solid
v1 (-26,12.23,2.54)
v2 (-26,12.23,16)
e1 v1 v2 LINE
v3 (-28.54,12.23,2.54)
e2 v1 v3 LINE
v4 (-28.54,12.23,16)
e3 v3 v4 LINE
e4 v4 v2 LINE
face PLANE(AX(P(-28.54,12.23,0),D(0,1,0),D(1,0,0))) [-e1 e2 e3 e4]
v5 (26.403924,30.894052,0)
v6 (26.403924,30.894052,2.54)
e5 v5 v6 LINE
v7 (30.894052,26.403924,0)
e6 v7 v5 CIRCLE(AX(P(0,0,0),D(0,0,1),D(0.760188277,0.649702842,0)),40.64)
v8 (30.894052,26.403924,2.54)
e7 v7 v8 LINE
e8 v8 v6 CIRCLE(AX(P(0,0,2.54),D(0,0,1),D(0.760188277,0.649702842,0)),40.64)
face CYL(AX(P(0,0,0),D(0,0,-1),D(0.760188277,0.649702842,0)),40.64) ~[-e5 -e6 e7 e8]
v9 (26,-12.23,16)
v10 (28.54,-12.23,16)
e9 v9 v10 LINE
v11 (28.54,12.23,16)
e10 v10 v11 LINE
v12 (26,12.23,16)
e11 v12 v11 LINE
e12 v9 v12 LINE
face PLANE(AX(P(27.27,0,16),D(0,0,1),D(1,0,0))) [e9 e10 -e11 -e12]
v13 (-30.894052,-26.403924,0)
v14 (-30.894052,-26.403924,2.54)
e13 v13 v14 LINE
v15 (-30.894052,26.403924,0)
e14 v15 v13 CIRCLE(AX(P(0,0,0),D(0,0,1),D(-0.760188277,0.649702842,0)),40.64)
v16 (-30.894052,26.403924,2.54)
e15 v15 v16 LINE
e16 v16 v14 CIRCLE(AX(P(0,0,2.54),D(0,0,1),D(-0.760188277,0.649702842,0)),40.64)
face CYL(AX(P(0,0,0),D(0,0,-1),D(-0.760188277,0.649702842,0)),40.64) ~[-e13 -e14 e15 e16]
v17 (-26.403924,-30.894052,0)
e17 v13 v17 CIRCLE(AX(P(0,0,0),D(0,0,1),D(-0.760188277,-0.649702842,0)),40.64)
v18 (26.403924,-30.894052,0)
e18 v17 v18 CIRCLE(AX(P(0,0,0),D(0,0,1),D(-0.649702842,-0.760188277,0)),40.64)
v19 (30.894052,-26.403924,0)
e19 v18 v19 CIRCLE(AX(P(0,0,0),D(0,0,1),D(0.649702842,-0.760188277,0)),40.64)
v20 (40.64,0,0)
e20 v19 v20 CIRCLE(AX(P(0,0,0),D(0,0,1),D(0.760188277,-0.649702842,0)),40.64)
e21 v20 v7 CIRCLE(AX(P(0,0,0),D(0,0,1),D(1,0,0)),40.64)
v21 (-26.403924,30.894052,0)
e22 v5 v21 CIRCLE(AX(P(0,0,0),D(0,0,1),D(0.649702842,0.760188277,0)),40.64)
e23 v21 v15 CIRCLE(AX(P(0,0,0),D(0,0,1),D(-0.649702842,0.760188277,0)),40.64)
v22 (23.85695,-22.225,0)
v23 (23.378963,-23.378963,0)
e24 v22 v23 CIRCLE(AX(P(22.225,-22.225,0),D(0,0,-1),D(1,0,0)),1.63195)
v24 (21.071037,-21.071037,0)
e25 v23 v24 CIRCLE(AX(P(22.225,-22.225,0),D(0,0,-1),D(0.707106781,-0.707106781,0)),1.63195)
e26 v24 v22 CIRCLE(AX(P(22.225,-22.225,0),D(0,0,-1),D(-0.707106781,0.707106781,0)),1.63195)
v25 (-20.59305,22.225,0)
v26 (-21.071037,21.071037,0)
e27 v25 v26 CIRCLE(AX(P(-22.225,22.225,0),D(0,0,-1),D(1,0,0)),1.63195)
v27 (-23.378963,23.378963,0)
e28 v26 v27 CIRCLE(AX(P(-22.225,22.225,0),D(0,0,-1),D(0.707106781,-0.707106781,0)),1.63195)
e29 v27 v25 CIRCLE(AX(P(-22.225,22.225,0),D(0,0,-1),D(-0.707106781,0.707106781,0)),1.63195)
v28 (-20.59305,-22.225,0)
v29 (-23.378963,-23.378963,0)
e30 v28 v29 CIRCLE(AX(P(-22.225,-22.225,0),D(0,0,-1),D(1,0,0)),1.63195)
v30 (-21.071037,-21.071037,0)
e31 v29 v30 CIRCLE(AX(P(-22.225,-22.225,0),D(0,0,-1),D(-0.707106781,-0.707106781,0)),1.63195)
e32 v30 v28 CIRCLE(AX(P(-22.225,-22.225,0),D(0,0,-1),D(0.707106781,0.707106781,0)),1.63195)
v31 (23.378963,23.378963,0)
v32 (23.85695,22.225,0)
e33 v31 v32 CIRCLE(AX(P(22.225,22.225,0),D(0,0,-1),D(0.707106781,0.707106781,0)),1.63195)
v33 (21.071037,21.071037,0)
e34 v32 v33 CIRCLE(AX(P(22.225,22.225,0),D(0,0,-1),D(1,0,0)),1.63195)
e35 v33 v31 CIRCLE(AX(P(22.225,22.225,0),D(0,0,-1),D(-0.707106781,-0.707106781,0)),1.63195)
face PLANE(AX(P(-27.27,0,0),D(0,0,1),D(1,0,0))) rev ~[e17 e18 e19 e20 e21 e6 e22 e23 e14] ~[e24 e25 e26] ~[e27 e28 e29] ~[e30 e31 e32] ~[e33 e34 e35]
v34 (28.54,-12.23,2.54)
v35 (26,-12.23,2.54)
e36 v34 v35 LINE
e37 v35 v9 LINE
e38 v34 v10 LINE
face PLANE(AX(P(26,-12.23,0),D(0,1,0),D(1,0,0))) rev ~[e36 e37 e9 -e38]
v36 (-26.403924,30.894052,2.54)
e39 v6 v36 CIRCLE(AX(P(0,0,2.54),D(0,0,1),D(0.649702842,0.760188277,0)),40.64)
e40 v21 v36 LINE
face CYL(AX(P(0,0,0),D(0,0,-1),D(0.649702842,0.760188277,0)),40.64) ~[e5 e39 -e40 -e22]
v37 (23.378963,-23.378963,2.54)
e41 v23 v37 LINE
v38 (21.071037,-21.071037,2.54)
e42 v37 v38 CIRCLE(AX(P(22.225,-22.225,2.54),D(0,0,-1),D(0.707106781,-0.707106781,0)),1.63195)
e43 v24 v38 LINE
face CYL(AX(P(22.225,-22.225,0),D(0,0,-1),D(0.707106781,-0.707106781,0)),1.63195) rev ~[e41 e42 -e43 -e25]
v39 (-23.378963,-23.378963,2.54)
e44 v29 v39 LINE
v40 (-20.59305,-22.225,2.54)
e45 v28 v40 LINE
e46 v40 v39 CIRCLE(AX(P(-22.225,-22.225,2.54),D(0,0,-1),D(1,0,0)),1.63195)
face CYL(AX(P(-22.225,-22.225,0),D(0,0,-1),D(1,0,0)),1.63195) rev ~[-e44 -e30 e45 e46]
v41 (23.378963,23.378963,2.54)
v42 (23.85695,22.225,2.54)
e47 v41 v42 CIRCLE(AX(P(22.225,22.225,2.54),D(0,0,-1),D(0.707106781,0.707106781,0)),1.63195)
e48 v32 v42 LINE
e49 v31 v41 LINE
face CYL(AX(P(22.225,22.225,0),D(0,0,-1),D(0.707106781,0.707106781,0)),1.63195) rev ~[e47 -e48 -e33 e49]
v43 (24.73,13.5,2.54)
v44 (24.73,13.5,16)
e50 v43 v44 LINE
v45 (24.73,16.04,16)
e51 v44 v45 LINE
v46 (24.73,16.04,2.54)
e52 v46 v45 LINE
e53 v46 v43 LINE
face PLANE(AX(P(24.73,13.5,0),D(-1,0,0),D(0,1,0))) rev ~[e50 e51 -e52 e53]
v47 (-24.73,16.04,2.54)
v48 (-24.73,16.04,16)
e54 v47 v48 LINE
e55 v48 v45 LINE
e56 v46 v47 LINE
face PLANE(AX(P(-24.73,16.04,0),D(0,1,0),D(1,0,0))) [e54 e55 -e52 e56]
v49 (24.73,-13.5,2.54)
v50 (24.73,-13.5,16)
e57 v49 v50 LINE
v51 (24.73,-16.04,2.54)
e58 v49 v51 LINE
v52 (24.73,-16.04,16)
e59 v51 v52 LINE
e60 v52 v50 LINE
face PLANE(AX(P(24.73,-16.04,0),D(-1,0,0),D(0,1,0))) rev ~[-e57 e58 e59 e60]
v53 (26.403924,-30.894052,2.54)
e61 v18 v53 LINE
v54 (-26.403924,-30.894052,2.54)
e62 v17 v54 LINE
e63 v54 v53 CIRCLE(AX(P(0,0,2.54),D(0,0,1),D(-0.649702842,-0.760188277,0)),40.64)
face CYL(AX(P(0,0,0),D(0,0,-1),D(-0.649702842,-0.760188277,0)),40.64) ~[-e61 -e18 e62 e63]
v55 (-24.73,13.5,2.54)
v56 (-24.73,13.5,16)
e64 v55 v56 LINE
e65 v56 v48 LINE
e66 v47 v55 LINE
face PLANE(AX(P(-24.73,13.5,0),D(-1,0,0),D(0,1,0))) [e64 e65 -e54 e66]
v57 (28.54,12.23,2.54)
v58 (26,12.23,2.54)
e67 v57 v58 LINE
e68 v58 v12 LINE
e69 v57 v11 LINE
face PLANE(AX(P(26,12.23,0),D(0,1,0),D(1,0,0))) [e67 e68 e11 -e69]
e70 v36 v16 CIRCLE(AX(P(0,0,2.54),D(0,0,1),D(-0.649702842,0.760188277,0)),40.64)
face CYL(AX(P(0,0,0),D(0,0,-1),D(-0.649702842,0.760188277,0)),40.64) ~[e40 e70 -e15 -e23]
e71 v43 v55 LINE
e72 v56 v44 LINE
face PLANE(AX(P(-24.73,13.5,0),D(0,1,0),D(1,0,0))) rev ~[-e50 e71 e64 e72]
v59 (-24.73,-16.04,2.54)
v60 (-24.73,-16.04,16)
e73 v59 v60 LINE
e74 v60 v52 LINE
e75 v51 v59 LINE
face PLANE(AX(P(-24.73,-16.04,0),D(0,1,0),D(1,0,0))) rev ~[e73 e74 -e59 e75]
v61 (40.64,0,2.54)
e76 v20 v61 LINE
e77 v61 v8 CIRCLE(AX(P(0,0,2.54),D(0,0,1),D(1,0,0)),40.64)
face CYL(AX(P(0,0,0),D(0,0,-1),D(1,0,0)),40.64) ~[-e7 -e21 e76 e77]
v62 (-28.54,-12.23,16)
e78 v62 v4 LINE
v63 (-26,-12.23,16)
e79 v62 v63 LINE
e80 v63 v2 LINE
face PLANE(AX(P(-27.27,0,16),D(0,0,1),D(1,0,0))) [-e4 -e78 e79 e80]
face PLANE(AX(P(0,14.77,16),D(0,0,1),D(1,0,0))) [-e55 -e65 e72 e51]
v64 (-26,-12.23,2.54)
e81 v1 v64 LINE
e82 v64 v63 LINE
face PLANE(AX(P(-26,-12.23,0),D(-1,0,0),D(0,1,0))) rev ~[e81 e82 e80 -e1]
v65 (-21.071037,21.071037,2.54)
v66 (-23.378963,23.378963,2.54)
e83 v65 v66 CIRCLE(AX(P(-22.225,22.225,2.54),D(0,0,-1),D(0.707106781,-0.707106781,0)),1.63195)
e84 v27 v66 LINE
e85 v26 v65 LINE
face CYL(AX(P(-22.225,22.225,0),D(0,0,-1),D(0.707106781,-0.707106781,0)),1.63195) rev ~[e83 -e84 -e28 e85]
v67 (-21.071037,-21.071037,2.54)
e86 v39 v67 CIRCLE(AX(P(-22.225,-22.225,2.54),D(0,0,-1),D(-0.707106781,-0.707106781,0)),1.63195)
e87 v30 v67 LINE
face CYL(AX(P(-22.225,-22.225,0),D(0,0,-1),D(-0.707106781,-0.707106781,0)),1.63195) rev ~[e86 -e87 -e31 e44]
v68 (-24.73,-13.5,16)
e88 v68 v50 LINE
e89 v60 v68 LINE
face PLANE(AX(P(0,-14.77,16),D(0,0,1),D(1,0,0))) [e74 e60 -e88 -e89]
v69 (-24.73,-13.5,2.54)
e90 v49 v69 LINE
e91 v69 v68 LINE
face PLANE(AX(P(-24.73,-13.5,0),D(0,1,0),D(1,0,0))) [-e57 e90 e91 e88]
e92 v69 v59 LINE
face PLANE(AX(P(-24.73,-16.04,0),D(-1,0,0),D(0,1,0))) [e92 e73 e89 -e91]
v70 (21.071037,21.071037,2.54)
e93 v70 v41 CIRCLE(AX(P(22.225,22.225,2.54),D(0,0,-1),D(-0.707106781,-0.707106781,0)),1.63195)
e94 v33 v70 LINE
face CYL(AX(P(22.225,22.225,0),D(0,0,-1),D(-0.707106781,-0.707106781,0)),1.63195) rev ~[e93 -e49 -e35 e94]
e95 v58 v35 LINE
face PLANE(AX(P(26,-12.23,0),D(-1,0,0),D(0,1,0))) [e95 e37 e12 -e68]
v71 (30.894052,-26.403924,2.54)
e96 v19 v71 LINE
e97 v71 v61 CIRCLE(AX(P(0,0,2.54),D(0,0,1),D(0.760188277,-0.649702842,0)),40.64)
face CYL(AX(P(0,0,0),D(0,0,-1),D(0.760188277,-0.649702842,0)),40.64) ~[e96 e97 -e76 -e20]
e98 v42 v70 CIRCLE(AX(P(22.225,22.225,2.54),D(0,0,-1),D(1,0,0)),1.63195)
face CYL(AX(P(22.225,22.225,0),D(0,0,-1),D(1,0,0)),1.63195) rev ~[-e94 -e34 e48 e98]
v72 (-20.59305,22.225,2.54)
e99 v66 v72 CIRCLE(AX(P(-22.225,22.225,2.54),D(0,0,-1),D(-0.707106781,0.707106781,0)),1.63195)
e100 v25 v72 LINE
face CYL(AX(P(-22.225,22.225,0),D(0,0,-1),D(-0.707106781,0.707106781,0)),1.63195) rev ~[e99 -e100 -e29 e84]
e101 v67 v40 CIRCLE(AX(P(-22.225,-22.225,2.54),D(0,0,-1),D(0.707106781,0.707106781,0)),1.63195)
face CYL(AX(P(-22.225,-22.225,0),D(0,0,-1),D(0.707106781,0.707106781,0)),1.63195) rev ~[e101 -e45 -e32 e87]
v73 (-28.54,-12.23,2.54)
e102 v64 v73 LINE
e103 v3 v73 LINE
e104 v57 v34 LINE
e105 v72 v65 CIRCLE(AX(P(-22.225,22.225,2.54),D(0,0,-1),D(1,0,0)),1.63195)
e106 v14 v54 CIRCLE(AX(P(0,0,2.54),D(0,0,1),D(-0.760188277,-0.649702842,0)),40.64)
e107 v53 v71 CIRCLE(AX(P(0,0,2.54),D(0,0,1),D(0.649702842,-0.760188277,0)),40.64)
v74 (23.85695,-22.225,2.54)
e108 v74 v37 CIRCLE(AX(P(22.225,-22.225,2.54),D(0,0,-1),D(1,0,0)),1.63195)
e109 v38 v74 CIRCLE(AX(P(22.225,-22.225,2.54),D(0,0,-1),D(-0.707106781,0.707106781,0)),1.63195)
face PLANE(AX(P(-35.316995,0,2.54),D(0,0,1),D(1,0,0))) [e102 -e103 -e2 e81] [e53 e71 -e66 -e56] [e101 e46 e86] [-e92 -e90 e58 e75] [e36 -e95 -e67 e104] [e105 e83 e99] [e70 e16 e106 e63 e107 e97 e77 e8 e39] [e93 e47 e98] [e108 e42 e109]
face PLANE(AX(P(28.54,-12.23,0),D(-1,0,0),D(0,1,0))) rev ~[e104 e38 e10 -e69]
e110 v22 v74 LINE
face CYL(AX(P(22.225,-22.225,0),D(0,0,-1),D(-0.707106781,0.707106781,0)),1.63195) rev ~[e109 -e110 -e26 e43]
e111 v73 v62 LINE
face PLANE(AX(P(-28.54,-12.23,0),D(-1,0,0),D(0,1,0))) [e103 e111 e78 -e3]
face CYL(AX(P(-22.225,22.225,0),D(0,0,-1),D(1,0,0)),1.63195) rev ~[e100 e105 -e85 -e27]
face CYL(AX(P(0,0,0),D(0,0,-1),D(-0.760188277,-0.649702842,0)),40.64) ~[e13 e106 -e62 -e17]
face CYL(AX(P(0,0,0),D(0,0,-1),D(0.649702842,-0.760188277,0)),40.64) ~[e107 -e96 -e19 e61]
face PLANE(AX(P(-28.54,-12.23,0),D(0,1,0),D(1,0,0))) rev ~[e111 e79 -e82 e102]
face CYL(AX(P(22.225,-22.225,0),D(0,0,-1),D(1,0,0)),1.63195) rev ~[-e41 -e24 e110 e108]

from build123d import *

# Parameters (mm, degrees)
F1_DEPTH = 2.54
F2_W     = 2.54
F2_H     = 24.46
F2_W_2   = 49.46
F2_H_2   = 2.54
F3_DEPTH = 16


with BuildPart() as f1:
    # F0 (on Top) → F1 (new body)
    with BuildSketch(Plane.XY):
        with BuildLine():
            ThreePointArc((-29.0921250892, -24.6019970286), (-38.1, 0), (-29.0921250892, 24.6019970286))
            Line((-29.0921250892, 24.6019970286), (-30.8940515778, 26.4039235173))
            ThreePointArc((-30.8940515778, 26.4039235173), (-40.64, 0), (-30.8940515778, -26.4039235173))
            Line((-30.8940515778, -26.4039235173), (-29.0921250892, -24.6019970286))
        make_face()
        with BuildLine():
            ThreePointArc((-29.0921250892, 24.6019970286), (-26.9407683632, 26.9407683632), (-24.6019970286, 29.0921250892))
            Line((-24.6019970286, 29.0921250892), (-26.4039235173, 30.8940515778))
            ThreePointArc((-26.4039235173, 30.8940515778), (-28.7368195874, 28.7368195874), (-30.8940515778, 26.4039235173))
            Line((-30.8940515778, 26.4039235173), (-29.0921250892, 24.6019970286))
        make_face()
        with BuildLine():
            Line((-26.4039235173, 30.8940515778), (-24.6019970286, 29.0921250892))
            ThreePointArc((-24.6019970286, 29.0921250892), (0, 38.1), (24.6019970286, 29.0921250892))
            Line((24.6019970286, 29.0921250892), (26.4039235173, 30.8940515778))
            ThreePointArc((26.4039235173, 30.8940515778), (0, 40.64), (-26.4039235173, 30.8940515778))
        make_face()
        with BuildLine():
            Line((26.4039235173, 30.8940515778), (24.6019970286, 29.0921250892))
            ThreePointArc((24.6019970286, 29.0921250892), (26.9407683632, 26.9407683632), (29.0921250892, 24.6019970286))
            Line((29.0921250892, 24.6019970286), (30.8940515778, 26.4039235173))
            ThreePointArc((30.8940515778, 26.4039235173), (28.7368195874, 28.7368195874), (26.4039235173, 30.8940515778))
        make_face()
        with BuildLine():
            Line((30.8940515778, 26.4039235173), (29.0921250892, 24.6019970286))
            ThreePointArc((29.0921250892, 24.6019970286), (35.7772271557, 13.0996189659), (38.1, 0))
            ThreePointArc((38.1, 0), (35.7772271557, -13.0996189659), (29.0921250892, -24.6019970286))
            Line((29.0921250892, -24.6019970286), (30.8940515778, -26.4039235173))
            ThreePointArc((30.8940515778, -26.4039235173), (38.1257383937, -14.0725858299), (40.64, 0))
            ThreePointArc((40.64, 0), (38.1257383937, 14.0725858299), (30.8940515778, 26.4039235173))
        make_face()
        with BuildLine():
            ThreePointArc((29.0921250892, -24.6019970286), (26.9407683632, -26.9407683632), (24.6019970286, -29.0921250892))
            Line((24.6019970286, -29.0921250892), (26.4039235173, -30.8940515778))
            ThreePointArc((26.4039235173, -30.8940515778), (28.7368195874, -28.7368195874), (30.8940515778, -26.4039235173))
            Line((30.8940515778, -26.4039235173), (29.0921250892, -24.6019970286))
        make_face()
        with BuildLine():
            ThreePointArc((-24.6019970286, -29.0921250892), (-26.9407683632, -26.9407683632), (-29.0921250892, -24.6019970286))
            Line((-29.0921250892, -24.6019970286), (-30.8940515778, -26.4039235173))
            ThreePointArc((-30.8940515778, -26.4039235173), (-28.7368195874, -28.7368195874), (-26.4039235173, -30.8940515778))
            Line((-26.4039235173, -30.8940515778), (-24.6019970286, -29.0921250892))
        make_face()
        with BuildLine():
            Line((-25.4, -20.9098719395), (-25.4, 20.9098719395))
            Line((-25.4, 20.9098719395), (-29.0921250892, 24.6019970286))
            ThreePointArc((-29.0921250892, 24.6019970286), (-38.1, 0), (-29.0921250892, -24.6019970286))
            Line((-29.0921250892, -24.6019970286), (-25.4, -20.9098719395))
        make_face()
        with BuildLine():
            Line((24.6019970286, 29.0921250892), (20.9098719395, 25.4))
            Line((20.9098719395, 25.4), (22.225, 25.4))
            Line((22.225, 25.4), (25.4, 25.4))
            Line((25.4, 25.4), (25.4, 22.225))
            Line((25.4, 22.225), (25.4, 20.9098719395))
            Line((25.4, 20.9098719395), (29.0921250892, 24.6019970286))
            ThreePointArc((29.0921250892, 24.6019970286), (26.9407683632, 26.9407683632), (24.6019970286, 29.0921250892))
        make_face()
        with BuildLine():
            Line((20.9098719395, -25.4), (24.6019970286, -29.0921250892))
            ThreePointArc((24.6019970286, -29.0921250892), (26.9407683632, -26.9407683632), (29.0921250892, -24.6019970286))
            Line((29.0921250892, -24.6019970286), (25.4, -20.9098719395))
            Line((25.4, -20.9098719395), (25.4, -22.225))
            Line((25.4, -22.225), (25.4, -25.4))
            Line((25.4, -25.4), (22.2249999363, -25.4))
            Line((22.2249999363, -25.4), (20.9098719395, -25.4))
        make_face()
        with BuildLine():
            Line((-25.4, -22.2250000637), (-25.4, -20.9098719395))
            Line((-25.4, -20.9098719395), (-29.0921250892, -24.6019970286))
            ThreePointArc((-29.0921250892, -24.6019970286), (-26.9407683632, -26.9407683632), (-24.6019970286, -29.0921250892))
            Line((-24.6019970286, -29.0921250892), (-20.9098719395, -25.4))
            Line((-20.9098719395, -25.4), (-22.225, -25.4))
            Line((-22.225, -25.4), (-25.4, -25.4))
            Line((-25.4, -25.4), (-25.4, -22.2250000637))
        make_face()
        with BuildLine():
            Line((-20.9098719395, -25.4), (-24.6019970286, -29.0921250892))
            ThreePointArc((-24.6019970286, -29.0921250892), (0, -38.1), (24.6019970286, -29.0921250892))
            Line((24.6019970286, -29.0921250892), (20.9098719395, -25.4))
            Line((20.9098719395, -25.4), (-20.9098719395, -25.4))
        make_face()
        with BuildLine():
            ThreePointArc((24.6019970286, -29.0921250892), (0, -38.1), (-24.6019970286, -29.0921250892))
            Line((-24.6019970286, -29.0921250892), (-26.4039235173, -30.8940515778))
            ThreePointArc((-26.4039235173, -30.8940515778), (0, -40.64), (26.4039235173, -30.8940515778))
            Line((26.4039235173, -30.8940515778), (24.6019970286, -29.0921250892))
        make_face()
        with BuildLine():
            ThreePointArc((-24.4700640303, -24.4700640303), (-25.1583175035, -23.4400199272), (-25.4, -22.2250000637))
            Line((-25.4, -22.2250000637), (-25.4, -25.4))
            Line((-25.4, -25.4), (-24.4700640303, -24.4700640303))
        make_face()
        with BuildLine():
            Line((-24.4700640303, -24.4700640303), (-25.4, -25.4))
            Line((-25.4, -25.4), (-22.225, -25.4))
            ThreePointArc((-22.225, -25.4), (-23.4400198978, -25.1583175157), (-24.4700640303, -24.4700640303))
        make_face()
        with BuildLine():
            Line((-23.3789629116, -23.3789629116), (-24.4700640303, -24.4700640303))
            ThreePointArc((-24.4700640303, -24.4700640303), (-23.4400198978, -25.1583175157), (-22.225, -25.4))
            ThreePointArc((-22.225, -25.4), (-21.0099801022, -25.1583175157), (-19.9799359697, -24.4700640303))
            ThreePointArc((-19.9799359697, -24.4700640303), (-19.2916824843, -23.4400198978), (-19.05, -22.225))
            ThreePointArc((-19.05, -22.225), (-19.2916824843, -21.0099801022), (-19.9799359697, -19.9799359697))
            Line((-19.9799359697, -19.9799359697), (-21.0710370884, -21.0710370884))
            ThreePointArc((-21.0710370884, -21.0710370884), (-20.7172747969, -21.6004797726), (-20.59305, -22.225))
            ThreePointArc((-20.59305, -22.225), (-21.6004797726, -23.7327252031), (-23.3789629116, -23.3789629116))
        make_face()
        with BuildLine():
            ThreePointArc((-24.4700640303, -19.9799359697), (-25.1583175279, -21.0099801317), (-25.4, -22.2250000637))
            ThreePointArc((-25.4, -22.2250000637), (-25.1583175035, -23.4400199272), (-24.4700640303, -24.4700640303))
            Line((-24.4700640303, -24.4700640303), (-23.3789629116, -23.3789629116))
            ThreePointArc((-23.3789629116, -23.3789629116), (-23.3789629116, -21.0710370884), (-21.0710370884, -21.0710370884))
            Line((-21.0710370884, -21.0710370884), (-19.9799359697, -19.9799359697))
            ThreePointArc((-19.9799359697, -19.9799359697), (-22.225, -19.05), (-24.4700640303, -19.9799359697))
        make_face()
        with BuildLine():
            Line((-24.4700640303, -19.9799359697), (-25.4, -20.9098719395))
            Line((-25.4, -20.9098719395), (-25.4, -22.2250000637))
            ThreePointArc((-25.4, -22.2250000637), (-25.1583175279, -21.0099801317), (-24.4700640303, -19.9799359697))
        make_face()
        with BuildLine():
            ThreePointArc((-19.9799359697, -24.4700640303), (-21.0099801022, -25.1583175157), (-22.225, -25.4))
            Line((-22.225, -25.4), (-20.9098719395, -25.4))
            Line((-20.9098719395, -25.4), (-19.9799359697, -24.4700640303))
        make_face()
        with BuildLine():
            Line((-24.4700644462, 19.9799363857), (-25.4, 20.9098719395))
            Line((-25.4, 20.9098719395), (-25.4, -20.9098719395))
            Line((-25.4, -20.9098719395), (-24.4700640303, -19.9799359697))
            ThreePointArc((-24.4700640303, -19.9799359697), (-22.225, -19.05), (-19.9799359697, -19.9799359697))
            Line((-19.9799359697, -19.9799359697), (0, 0))
            Line((0, 0), (-19.9799359697, 19.9799359697))
            ThreePointArc((-19.9799359697, 19.9799359697), (-22.2250002941, 19.05), (-24.4700644462, 19.9799363857))
        make_face()
        with BuildLine():
            Line((-24.4700640303, 24.4700640303), (-25.4, 25.4))
            Line((-25.4, 25.4), (-25.4, 22.225))
            ThreePointArc((-25.4, 22.225), (-25.1583175157, 23.4400198978), (-24.4700640303, 24.4700640303))
        make_face()
        with BuildLine():
            ThreePointArc((-24.4700644462, 19.9799363857), (-25.1583176283, 21.009980374), (-25.4, 22.225))
            Line((-25.4, 22.225), (-25.4, 20.9098719395))
            Line((-25.4, 20.9098719395), (-24.4700644462, 19.9799363857))
        make_face()
        with BuildLine():
            Line((-20.9098719395, 25.4), (-22.225, 25.4))
            ThreePointArc((-22.225, 25.4), (-21.0099800636, 25.1583174997), (-19.9799359106, 24.4700639711))
            Line((-19.9799359106, 24.4700639711), (-20.9098719395, 25.4))
        make_face()
        with BuildLine():
            Line((-22.225, 25.4), (-25.4, 25.4))
            Line((-25.4, 25.4), (-24.4700640303, 24.4700640303))
            ThreePointArc((-24.4700640303, 24.4700640303), (-23.4400198978, 25.1583175157), (-22.225, 25.4))
        make_face()
        with BuildLine():
            Line((-25.4, 22.225), (-25.4, 25.4))
            Line((-25.4, 25.4), (-22.225, 25.4))
            Line((-22.225, 25.4), (-20.9098719395, 25.4))
            Line((-20.9098719395, 25.4), (-24.6019970286, 29.0921250892))
            ThreePointArc((-24.6019970286, 29.0921250892), (-26.9407683632, 26.9407683632), (-29.0921250892, 24.6019970286))
            Line((-29.0921250892, 24.6019970286), (-25.4, 20.9098719395))
            Line((-25.4, 20.9098719395), (-25.4, 22.225))
        make_face()
        with BuildLine():
            Line((-24.6019970286, 29.0921250892), (-20.9098719395, 25.4))
            Line((-20.9098719395, 25.4), (20.9098719395, 25.4))
            Line((20.9098719395, 25.4), (24.6019970286, 29.0921250892))
            ThreePointArc((24.6019970286, 29.0921250892), (0, 38.1), (-24.6019970286, 29.0921250892))
        make_face()
        with BuildLine():
            Line((25.4, 25.4), (22.225, 25.4))
            ThreePointArc((22.225, 25.4), (23.4400198978, 25.1583175157), (24.4700640303, 24.4700640303))
            Line((24.4700640303, 24.4700640303), (25.4, 25.4))
        make_face()
        with BuildLine():
            Line((25.4, 22.225), (25.4, 25.4))
            Line((25.4, 25.4), (24.4700640303, 24.4700640303))
            ThreePointArc((24.4700640303, 24.4700640303), (25.1583175157, 23.4400198978), (25.4, 22.225))
        make_face()
        with BuildLine():
            Line((22.225, 25.4), (20.9098719395, 25.4))
            Line((20.9098719395, 25.4), (19.9799359697, 24.4700640303))
            ThreePointArc((19.9799359697, 24.4700640303), (21.0099801022, 25.1583175157), (22.225, 25.4))
        make_face()
        with BuildLine():
            Line((25.4, 20.9098719395), (25.4, 22.225))
            ThreePointArc((25.4, 22.225), (25.1583175157, 21.0099801022), (24.4700640303, 19.9799359697))
            Line((24.4700640303, 19.9799359697), (25.4, 20.9098719395))
        make_face()
        with BuildLine():
            ThreePointArc((38.1, 0), (35.7772271557, 13.0996189659), (29.0921250892, 24.6019970286))
            Line((29.0921250892, 24.6019970286), (25.4, 20.9098719395))
            Line((25.4, 20.9098719395), (25.4, -20.9098719395))
            Line((25.4, -20.9098719395), (29.0921250892, -24.6019970286))
            ThreePointArc((29.0921250892, -24.6019970286), (35.7772271557, -13.0996189659), (38.1, 0))
        make_face()
        with BuildLine():
            Line((19.9799359697, -19.9799359697), (0, 0))
            Line((0, 0), (-19.9799359697, -19.9799359697))
            ThreePointArc((-19.9799359697, -19.9799359697), (-19.2916824843, -21.0099801022), (-19.05, -22.225))
            ThreePointArc((-19.05, -22.225), (-19.2916824843, -23.4400198978), (-19.9799359697, -24.4700640303))
            Line((-19.9799359697, -24.4700640303), (-20.9098719395, -25.4))
            Line((-20.9098719395, -25.4), (20.9098719395, -25.4))
            Line((20.9098719395, -25.4), (19.9799358262, -24.4700638867))
            ThreePointArc((19.9799358262, -24.4700638867), (19.05, -22.2249998985), (19.9799359697, -19.9799359697))
        make_face()
        with BuildLine():
            Line((19.9799359697, 19.9799359697), (0, 0))
            Line((0, 0), (19.9799359697, -19.9799359697))
            ThreePointArc((19.9799359697, -19.9799359697), (22.2249999638, -19.05), (24.4700639791, -19.9799359186))
            Line((24.4700639791, -19.9799359186), (25.4, -20.9098719395))
            Line((25.4, -20.9098719395), (25.4, 20.9098719395))
            Line((25.4, 20.9098719395), (24.4700640303, 19.9799359697))
            ThreePointArc((24.4700640303, 19.9799359697), (22.225, 19.05), (19.9799359697, 19.9799359697))
        make_face()
        with BuildLine():
            Line((20.9098719395, 25.4), (-20.9098719395, 25.4))
            Line((-20.9098719395, 25.4), (-19.9799359106, 24.4700639711))
            ThreePointArc((-19.9799359106, 24.4700639711), (-19.2916824683, 23.4400198591), (-19.05, 22.225))
            ThreePointArc((-19.05, 22.225), (-19.2916824843, 21.0099801022), (-19.9799359697, 19.9799359697))
            Line((-19.9799359697, 19.9799359697), (0, 0))
            Line((0, 0), (19.9799359697, 19.9799359697))
            ThreePointArc((19.9799359697, 19.9799359697), (19.05, 22.225), (19.9799359697, 24.4700640303))
            Line((19.9799359697, 24.4700640303), (20.9098719395, 25.4))
        make_face()
        with BuildLine():
            ThreePointArc((22.2249999363, -25.4), (21.009979979, -25.1583174647), (19.9799358262, -24.4700638867))
            Line((19.9799358262, -24.4700638867), (20.9098719395, -25.4))
            Line((20.9098719395, -25.4), (22.2249999363, -25.4))
        make_face()
        with BuildLine():
            ThreePointArc((24.4700640303, -24.4700640303), (23.4400198683, -25.1583175279), (22.2249999363, -25.4))
            Line((22.2249999363, -25.4), (25.4, -25.4))
            Line((25.4, -25.4), (24.4700640303, -24.4700640303))
        make_face()
        with BuildLine():
            Line((25.4, -25.4), (25.4, -22.225))
            ThreePointArc((25.4, -22.225), (25.1583175157, -23.4400198978), (24.4700640303, -24.4700640303))
            Line((24.4700640303, -24.4700640303), (25.4, -25.4))
        make_face()
        with BuildLine():
            Line((25.4, -20.9098719395), (24.4700639791, -19.9799359186))
            ThreePointArc((24.4700639791, -19.9799359186), (25.1583175019, -21.0099800688), (25.4, -22.225))
            Line((25.4, -22.225), (25.4, -20.9098719395))
        make_face()
        with BuildLine():
            ThreePointArc((-24.4700640303, 24.4700640303), (-25.1583175157, 23.4400198978), (-25.4, 22.225))
            ThreePointArc((-25.4, 22.225), (-25.1583176283, 21.009980374), (-24.4700644462, 19.9799363857))
            ThreePointArc((-24.4700644462, 19.9799363857), (-22.2250002941, 19.05), (-19.9799359697, 19.9799359697))
            Line((-19.9799359697, 19.9799359697), (-21.0710370884, 21.0710370884))
            ThreePointArc((-21.0710370884, 21.0710370884), (-23.3789629116, 21.0710370884), (-23.3789629116, 23.3789629116))
            Line((-23.3789629116, 23.3789629116), (-24.4700640303, 24.4700640303))
        make_face()
        with BuildLine():
            ThreePointArc((-19.9799359106, 24.4700639711), (-21.0099800636, 25.1583174997), (-22.225, 25.4))
            ThreePointArc((-22.225, 25.4), (-23.4400198978, 25.1583175157), (-24.4700640303, 24.4700640303))
            Line((-24.4700640303, 24.4700640303), (-23.3789629116, 23.3789629116))
            ThreePointArc((-23.3789629116, 23.3789629116), (-21.6004797726, 23.7327252031), (-20.59305, 22.225))
            ThreePointArc((-20.59305, 22.225), (-20.7172747969, 21.6004797726), (-21.0710370884, 21.0710370884))
            Line((-21.0710370884, 21.0710370884), (-19.9799359697, 19.9799359697))
            ThreePointArc((-19.9799359697, 19.9799359697), (-19.2916824843, 21.0099801022), (-19.05, 22.225))
            ThreePointArc((-19.05, 22.225), (-19.2916824683, 23.4400198591), (-19.9799359106, 24.4700639711))
        make_face()
        with BuildLine():
            ThreePointArc((24.4700640303, 24.4700640303), (23.4400198978, 25.1583175157), (22.225, 25.4))
            ThreePointArc((22.225, 25.4), (21.0099801022, 25.1583175157), (19.9799359697, 24.4700640303))
            ThreePointArc((19.9799359697, 24.4700640303), (19.05, 22.225), (19.9799359697, 19.9799359697))
            Line((19.9799359697, 19.9799359697), (21.0710370884, 21.0710370884))
            ThreePointArc((21.0710370884, 21.0710370884), (21.0710370884, 23.3789629116), (23.3789629116, 23.3789629116))
            Line((23.3789629116, 23.3789629116), (24.4700640303, 24.4700640303))
        make_face()
        with BuildLine():
            ThreePointArc((25.4, 22.225), (25.1583175157, 23.4400198978), (24.4700640303, 24.4700640303))
            Line((24.4700640303, 24.4700640303), (23.3789629116, 23.3789629116))
            ThreePointArc((23.3789629116, 23.3789629116), (23.7327252031, 22.8495202274), (23.85695, 22.225))
            ThreePointArc((23.85695, 22.225), (22.8495202274, 20.7172747969), (21.0710370884, 21.0710370884))
            Line((21.0710370884, 21.0710370884), (19.9799359697, 19.9799359697))
            ThreePointArc((19.9799359697, 19.9799359697), (22.225, 19.05), (24.4700640303, 19.9799359697))
            ThreePointArc((24.4700640303, 19.9799359697), (25.1583175157, 21.0099801022), (25.4, 22.225))
        make_face()
        with BuildLine():
            Line((21.0710370884, -21.0710370884), (19.9799359697, -19.9799359697))
            ThreePointArc((19.9799359697, -19.9799359697), (19.05, -22.2249998985), (19.9799358262, -24.4700638867))
            ThreePointArc((19.9799358262, -24.4700638867), (21.009979979, -25.1583174647), (22.2249999363, -25.4))
            ThreePointArc((22.2249999363, -25.4), (23.4400198683, -25.1583175279), (24.4700640303, -24.4700640303))
            Line((24.4700640303, -24.4700640303), (23.3789629116, -23.3789629116))
            ThreePointArc((23.3789629116, -23.3789629116), (21.0710370884, -23.3789629116), (21.0710370884, -21.0710370884))
        make_face()
        with BuildLine():
            ThreePointArc((24.4700639791, -19.9799359186), (22.2249999638, -19.05), (19.9799359697, -19.9799359697))
            Line((19.9799359697, -19.9799359697), (21.0710370884, -21.0710370884))
            ThreePointArc((21.0710370884, -21.0710370884), (22.8495202274, -20.7172747969), (23.85695, -22.225))
            ThreePointArc((23.85695, -22.225), (23.7327252031, -22.8495202274), (23.3789629116, -23.3789629116))
            Line((23.3789629116, -23.3789629116), (24.4700640303, -24.4700640303))
            ThreePointArc((24.4700640303, -24.4700640303), (25.1583175157, -23.4400198978), (25.4, -22.225))
            ThreePointArc((25.4, -22.225), (25.1583175019, -21.0099800688), (24.4700639791, -19.9799359186))
        make_face()
    extrude(amount=F1_DEPTH)

    # F2 (on Top) → F3 (join)
    with BuildSketch(Plane.XY):
        with Locations((-27.27, 0)):
            Rectangle(F2_W, F2_H)
        with Locations((0, 14.77)):
            Rectangle(F2_W_2, F2_H_2)
        with Locations((27.27, 0)):
            Rectangle(F2_W, F2_H)
        with Locations((0, -14.77)):
            Rectangle(F2_W_2, F2_H_2)
    extrude(amount=F3_DEPTH)


solid = f1.part
